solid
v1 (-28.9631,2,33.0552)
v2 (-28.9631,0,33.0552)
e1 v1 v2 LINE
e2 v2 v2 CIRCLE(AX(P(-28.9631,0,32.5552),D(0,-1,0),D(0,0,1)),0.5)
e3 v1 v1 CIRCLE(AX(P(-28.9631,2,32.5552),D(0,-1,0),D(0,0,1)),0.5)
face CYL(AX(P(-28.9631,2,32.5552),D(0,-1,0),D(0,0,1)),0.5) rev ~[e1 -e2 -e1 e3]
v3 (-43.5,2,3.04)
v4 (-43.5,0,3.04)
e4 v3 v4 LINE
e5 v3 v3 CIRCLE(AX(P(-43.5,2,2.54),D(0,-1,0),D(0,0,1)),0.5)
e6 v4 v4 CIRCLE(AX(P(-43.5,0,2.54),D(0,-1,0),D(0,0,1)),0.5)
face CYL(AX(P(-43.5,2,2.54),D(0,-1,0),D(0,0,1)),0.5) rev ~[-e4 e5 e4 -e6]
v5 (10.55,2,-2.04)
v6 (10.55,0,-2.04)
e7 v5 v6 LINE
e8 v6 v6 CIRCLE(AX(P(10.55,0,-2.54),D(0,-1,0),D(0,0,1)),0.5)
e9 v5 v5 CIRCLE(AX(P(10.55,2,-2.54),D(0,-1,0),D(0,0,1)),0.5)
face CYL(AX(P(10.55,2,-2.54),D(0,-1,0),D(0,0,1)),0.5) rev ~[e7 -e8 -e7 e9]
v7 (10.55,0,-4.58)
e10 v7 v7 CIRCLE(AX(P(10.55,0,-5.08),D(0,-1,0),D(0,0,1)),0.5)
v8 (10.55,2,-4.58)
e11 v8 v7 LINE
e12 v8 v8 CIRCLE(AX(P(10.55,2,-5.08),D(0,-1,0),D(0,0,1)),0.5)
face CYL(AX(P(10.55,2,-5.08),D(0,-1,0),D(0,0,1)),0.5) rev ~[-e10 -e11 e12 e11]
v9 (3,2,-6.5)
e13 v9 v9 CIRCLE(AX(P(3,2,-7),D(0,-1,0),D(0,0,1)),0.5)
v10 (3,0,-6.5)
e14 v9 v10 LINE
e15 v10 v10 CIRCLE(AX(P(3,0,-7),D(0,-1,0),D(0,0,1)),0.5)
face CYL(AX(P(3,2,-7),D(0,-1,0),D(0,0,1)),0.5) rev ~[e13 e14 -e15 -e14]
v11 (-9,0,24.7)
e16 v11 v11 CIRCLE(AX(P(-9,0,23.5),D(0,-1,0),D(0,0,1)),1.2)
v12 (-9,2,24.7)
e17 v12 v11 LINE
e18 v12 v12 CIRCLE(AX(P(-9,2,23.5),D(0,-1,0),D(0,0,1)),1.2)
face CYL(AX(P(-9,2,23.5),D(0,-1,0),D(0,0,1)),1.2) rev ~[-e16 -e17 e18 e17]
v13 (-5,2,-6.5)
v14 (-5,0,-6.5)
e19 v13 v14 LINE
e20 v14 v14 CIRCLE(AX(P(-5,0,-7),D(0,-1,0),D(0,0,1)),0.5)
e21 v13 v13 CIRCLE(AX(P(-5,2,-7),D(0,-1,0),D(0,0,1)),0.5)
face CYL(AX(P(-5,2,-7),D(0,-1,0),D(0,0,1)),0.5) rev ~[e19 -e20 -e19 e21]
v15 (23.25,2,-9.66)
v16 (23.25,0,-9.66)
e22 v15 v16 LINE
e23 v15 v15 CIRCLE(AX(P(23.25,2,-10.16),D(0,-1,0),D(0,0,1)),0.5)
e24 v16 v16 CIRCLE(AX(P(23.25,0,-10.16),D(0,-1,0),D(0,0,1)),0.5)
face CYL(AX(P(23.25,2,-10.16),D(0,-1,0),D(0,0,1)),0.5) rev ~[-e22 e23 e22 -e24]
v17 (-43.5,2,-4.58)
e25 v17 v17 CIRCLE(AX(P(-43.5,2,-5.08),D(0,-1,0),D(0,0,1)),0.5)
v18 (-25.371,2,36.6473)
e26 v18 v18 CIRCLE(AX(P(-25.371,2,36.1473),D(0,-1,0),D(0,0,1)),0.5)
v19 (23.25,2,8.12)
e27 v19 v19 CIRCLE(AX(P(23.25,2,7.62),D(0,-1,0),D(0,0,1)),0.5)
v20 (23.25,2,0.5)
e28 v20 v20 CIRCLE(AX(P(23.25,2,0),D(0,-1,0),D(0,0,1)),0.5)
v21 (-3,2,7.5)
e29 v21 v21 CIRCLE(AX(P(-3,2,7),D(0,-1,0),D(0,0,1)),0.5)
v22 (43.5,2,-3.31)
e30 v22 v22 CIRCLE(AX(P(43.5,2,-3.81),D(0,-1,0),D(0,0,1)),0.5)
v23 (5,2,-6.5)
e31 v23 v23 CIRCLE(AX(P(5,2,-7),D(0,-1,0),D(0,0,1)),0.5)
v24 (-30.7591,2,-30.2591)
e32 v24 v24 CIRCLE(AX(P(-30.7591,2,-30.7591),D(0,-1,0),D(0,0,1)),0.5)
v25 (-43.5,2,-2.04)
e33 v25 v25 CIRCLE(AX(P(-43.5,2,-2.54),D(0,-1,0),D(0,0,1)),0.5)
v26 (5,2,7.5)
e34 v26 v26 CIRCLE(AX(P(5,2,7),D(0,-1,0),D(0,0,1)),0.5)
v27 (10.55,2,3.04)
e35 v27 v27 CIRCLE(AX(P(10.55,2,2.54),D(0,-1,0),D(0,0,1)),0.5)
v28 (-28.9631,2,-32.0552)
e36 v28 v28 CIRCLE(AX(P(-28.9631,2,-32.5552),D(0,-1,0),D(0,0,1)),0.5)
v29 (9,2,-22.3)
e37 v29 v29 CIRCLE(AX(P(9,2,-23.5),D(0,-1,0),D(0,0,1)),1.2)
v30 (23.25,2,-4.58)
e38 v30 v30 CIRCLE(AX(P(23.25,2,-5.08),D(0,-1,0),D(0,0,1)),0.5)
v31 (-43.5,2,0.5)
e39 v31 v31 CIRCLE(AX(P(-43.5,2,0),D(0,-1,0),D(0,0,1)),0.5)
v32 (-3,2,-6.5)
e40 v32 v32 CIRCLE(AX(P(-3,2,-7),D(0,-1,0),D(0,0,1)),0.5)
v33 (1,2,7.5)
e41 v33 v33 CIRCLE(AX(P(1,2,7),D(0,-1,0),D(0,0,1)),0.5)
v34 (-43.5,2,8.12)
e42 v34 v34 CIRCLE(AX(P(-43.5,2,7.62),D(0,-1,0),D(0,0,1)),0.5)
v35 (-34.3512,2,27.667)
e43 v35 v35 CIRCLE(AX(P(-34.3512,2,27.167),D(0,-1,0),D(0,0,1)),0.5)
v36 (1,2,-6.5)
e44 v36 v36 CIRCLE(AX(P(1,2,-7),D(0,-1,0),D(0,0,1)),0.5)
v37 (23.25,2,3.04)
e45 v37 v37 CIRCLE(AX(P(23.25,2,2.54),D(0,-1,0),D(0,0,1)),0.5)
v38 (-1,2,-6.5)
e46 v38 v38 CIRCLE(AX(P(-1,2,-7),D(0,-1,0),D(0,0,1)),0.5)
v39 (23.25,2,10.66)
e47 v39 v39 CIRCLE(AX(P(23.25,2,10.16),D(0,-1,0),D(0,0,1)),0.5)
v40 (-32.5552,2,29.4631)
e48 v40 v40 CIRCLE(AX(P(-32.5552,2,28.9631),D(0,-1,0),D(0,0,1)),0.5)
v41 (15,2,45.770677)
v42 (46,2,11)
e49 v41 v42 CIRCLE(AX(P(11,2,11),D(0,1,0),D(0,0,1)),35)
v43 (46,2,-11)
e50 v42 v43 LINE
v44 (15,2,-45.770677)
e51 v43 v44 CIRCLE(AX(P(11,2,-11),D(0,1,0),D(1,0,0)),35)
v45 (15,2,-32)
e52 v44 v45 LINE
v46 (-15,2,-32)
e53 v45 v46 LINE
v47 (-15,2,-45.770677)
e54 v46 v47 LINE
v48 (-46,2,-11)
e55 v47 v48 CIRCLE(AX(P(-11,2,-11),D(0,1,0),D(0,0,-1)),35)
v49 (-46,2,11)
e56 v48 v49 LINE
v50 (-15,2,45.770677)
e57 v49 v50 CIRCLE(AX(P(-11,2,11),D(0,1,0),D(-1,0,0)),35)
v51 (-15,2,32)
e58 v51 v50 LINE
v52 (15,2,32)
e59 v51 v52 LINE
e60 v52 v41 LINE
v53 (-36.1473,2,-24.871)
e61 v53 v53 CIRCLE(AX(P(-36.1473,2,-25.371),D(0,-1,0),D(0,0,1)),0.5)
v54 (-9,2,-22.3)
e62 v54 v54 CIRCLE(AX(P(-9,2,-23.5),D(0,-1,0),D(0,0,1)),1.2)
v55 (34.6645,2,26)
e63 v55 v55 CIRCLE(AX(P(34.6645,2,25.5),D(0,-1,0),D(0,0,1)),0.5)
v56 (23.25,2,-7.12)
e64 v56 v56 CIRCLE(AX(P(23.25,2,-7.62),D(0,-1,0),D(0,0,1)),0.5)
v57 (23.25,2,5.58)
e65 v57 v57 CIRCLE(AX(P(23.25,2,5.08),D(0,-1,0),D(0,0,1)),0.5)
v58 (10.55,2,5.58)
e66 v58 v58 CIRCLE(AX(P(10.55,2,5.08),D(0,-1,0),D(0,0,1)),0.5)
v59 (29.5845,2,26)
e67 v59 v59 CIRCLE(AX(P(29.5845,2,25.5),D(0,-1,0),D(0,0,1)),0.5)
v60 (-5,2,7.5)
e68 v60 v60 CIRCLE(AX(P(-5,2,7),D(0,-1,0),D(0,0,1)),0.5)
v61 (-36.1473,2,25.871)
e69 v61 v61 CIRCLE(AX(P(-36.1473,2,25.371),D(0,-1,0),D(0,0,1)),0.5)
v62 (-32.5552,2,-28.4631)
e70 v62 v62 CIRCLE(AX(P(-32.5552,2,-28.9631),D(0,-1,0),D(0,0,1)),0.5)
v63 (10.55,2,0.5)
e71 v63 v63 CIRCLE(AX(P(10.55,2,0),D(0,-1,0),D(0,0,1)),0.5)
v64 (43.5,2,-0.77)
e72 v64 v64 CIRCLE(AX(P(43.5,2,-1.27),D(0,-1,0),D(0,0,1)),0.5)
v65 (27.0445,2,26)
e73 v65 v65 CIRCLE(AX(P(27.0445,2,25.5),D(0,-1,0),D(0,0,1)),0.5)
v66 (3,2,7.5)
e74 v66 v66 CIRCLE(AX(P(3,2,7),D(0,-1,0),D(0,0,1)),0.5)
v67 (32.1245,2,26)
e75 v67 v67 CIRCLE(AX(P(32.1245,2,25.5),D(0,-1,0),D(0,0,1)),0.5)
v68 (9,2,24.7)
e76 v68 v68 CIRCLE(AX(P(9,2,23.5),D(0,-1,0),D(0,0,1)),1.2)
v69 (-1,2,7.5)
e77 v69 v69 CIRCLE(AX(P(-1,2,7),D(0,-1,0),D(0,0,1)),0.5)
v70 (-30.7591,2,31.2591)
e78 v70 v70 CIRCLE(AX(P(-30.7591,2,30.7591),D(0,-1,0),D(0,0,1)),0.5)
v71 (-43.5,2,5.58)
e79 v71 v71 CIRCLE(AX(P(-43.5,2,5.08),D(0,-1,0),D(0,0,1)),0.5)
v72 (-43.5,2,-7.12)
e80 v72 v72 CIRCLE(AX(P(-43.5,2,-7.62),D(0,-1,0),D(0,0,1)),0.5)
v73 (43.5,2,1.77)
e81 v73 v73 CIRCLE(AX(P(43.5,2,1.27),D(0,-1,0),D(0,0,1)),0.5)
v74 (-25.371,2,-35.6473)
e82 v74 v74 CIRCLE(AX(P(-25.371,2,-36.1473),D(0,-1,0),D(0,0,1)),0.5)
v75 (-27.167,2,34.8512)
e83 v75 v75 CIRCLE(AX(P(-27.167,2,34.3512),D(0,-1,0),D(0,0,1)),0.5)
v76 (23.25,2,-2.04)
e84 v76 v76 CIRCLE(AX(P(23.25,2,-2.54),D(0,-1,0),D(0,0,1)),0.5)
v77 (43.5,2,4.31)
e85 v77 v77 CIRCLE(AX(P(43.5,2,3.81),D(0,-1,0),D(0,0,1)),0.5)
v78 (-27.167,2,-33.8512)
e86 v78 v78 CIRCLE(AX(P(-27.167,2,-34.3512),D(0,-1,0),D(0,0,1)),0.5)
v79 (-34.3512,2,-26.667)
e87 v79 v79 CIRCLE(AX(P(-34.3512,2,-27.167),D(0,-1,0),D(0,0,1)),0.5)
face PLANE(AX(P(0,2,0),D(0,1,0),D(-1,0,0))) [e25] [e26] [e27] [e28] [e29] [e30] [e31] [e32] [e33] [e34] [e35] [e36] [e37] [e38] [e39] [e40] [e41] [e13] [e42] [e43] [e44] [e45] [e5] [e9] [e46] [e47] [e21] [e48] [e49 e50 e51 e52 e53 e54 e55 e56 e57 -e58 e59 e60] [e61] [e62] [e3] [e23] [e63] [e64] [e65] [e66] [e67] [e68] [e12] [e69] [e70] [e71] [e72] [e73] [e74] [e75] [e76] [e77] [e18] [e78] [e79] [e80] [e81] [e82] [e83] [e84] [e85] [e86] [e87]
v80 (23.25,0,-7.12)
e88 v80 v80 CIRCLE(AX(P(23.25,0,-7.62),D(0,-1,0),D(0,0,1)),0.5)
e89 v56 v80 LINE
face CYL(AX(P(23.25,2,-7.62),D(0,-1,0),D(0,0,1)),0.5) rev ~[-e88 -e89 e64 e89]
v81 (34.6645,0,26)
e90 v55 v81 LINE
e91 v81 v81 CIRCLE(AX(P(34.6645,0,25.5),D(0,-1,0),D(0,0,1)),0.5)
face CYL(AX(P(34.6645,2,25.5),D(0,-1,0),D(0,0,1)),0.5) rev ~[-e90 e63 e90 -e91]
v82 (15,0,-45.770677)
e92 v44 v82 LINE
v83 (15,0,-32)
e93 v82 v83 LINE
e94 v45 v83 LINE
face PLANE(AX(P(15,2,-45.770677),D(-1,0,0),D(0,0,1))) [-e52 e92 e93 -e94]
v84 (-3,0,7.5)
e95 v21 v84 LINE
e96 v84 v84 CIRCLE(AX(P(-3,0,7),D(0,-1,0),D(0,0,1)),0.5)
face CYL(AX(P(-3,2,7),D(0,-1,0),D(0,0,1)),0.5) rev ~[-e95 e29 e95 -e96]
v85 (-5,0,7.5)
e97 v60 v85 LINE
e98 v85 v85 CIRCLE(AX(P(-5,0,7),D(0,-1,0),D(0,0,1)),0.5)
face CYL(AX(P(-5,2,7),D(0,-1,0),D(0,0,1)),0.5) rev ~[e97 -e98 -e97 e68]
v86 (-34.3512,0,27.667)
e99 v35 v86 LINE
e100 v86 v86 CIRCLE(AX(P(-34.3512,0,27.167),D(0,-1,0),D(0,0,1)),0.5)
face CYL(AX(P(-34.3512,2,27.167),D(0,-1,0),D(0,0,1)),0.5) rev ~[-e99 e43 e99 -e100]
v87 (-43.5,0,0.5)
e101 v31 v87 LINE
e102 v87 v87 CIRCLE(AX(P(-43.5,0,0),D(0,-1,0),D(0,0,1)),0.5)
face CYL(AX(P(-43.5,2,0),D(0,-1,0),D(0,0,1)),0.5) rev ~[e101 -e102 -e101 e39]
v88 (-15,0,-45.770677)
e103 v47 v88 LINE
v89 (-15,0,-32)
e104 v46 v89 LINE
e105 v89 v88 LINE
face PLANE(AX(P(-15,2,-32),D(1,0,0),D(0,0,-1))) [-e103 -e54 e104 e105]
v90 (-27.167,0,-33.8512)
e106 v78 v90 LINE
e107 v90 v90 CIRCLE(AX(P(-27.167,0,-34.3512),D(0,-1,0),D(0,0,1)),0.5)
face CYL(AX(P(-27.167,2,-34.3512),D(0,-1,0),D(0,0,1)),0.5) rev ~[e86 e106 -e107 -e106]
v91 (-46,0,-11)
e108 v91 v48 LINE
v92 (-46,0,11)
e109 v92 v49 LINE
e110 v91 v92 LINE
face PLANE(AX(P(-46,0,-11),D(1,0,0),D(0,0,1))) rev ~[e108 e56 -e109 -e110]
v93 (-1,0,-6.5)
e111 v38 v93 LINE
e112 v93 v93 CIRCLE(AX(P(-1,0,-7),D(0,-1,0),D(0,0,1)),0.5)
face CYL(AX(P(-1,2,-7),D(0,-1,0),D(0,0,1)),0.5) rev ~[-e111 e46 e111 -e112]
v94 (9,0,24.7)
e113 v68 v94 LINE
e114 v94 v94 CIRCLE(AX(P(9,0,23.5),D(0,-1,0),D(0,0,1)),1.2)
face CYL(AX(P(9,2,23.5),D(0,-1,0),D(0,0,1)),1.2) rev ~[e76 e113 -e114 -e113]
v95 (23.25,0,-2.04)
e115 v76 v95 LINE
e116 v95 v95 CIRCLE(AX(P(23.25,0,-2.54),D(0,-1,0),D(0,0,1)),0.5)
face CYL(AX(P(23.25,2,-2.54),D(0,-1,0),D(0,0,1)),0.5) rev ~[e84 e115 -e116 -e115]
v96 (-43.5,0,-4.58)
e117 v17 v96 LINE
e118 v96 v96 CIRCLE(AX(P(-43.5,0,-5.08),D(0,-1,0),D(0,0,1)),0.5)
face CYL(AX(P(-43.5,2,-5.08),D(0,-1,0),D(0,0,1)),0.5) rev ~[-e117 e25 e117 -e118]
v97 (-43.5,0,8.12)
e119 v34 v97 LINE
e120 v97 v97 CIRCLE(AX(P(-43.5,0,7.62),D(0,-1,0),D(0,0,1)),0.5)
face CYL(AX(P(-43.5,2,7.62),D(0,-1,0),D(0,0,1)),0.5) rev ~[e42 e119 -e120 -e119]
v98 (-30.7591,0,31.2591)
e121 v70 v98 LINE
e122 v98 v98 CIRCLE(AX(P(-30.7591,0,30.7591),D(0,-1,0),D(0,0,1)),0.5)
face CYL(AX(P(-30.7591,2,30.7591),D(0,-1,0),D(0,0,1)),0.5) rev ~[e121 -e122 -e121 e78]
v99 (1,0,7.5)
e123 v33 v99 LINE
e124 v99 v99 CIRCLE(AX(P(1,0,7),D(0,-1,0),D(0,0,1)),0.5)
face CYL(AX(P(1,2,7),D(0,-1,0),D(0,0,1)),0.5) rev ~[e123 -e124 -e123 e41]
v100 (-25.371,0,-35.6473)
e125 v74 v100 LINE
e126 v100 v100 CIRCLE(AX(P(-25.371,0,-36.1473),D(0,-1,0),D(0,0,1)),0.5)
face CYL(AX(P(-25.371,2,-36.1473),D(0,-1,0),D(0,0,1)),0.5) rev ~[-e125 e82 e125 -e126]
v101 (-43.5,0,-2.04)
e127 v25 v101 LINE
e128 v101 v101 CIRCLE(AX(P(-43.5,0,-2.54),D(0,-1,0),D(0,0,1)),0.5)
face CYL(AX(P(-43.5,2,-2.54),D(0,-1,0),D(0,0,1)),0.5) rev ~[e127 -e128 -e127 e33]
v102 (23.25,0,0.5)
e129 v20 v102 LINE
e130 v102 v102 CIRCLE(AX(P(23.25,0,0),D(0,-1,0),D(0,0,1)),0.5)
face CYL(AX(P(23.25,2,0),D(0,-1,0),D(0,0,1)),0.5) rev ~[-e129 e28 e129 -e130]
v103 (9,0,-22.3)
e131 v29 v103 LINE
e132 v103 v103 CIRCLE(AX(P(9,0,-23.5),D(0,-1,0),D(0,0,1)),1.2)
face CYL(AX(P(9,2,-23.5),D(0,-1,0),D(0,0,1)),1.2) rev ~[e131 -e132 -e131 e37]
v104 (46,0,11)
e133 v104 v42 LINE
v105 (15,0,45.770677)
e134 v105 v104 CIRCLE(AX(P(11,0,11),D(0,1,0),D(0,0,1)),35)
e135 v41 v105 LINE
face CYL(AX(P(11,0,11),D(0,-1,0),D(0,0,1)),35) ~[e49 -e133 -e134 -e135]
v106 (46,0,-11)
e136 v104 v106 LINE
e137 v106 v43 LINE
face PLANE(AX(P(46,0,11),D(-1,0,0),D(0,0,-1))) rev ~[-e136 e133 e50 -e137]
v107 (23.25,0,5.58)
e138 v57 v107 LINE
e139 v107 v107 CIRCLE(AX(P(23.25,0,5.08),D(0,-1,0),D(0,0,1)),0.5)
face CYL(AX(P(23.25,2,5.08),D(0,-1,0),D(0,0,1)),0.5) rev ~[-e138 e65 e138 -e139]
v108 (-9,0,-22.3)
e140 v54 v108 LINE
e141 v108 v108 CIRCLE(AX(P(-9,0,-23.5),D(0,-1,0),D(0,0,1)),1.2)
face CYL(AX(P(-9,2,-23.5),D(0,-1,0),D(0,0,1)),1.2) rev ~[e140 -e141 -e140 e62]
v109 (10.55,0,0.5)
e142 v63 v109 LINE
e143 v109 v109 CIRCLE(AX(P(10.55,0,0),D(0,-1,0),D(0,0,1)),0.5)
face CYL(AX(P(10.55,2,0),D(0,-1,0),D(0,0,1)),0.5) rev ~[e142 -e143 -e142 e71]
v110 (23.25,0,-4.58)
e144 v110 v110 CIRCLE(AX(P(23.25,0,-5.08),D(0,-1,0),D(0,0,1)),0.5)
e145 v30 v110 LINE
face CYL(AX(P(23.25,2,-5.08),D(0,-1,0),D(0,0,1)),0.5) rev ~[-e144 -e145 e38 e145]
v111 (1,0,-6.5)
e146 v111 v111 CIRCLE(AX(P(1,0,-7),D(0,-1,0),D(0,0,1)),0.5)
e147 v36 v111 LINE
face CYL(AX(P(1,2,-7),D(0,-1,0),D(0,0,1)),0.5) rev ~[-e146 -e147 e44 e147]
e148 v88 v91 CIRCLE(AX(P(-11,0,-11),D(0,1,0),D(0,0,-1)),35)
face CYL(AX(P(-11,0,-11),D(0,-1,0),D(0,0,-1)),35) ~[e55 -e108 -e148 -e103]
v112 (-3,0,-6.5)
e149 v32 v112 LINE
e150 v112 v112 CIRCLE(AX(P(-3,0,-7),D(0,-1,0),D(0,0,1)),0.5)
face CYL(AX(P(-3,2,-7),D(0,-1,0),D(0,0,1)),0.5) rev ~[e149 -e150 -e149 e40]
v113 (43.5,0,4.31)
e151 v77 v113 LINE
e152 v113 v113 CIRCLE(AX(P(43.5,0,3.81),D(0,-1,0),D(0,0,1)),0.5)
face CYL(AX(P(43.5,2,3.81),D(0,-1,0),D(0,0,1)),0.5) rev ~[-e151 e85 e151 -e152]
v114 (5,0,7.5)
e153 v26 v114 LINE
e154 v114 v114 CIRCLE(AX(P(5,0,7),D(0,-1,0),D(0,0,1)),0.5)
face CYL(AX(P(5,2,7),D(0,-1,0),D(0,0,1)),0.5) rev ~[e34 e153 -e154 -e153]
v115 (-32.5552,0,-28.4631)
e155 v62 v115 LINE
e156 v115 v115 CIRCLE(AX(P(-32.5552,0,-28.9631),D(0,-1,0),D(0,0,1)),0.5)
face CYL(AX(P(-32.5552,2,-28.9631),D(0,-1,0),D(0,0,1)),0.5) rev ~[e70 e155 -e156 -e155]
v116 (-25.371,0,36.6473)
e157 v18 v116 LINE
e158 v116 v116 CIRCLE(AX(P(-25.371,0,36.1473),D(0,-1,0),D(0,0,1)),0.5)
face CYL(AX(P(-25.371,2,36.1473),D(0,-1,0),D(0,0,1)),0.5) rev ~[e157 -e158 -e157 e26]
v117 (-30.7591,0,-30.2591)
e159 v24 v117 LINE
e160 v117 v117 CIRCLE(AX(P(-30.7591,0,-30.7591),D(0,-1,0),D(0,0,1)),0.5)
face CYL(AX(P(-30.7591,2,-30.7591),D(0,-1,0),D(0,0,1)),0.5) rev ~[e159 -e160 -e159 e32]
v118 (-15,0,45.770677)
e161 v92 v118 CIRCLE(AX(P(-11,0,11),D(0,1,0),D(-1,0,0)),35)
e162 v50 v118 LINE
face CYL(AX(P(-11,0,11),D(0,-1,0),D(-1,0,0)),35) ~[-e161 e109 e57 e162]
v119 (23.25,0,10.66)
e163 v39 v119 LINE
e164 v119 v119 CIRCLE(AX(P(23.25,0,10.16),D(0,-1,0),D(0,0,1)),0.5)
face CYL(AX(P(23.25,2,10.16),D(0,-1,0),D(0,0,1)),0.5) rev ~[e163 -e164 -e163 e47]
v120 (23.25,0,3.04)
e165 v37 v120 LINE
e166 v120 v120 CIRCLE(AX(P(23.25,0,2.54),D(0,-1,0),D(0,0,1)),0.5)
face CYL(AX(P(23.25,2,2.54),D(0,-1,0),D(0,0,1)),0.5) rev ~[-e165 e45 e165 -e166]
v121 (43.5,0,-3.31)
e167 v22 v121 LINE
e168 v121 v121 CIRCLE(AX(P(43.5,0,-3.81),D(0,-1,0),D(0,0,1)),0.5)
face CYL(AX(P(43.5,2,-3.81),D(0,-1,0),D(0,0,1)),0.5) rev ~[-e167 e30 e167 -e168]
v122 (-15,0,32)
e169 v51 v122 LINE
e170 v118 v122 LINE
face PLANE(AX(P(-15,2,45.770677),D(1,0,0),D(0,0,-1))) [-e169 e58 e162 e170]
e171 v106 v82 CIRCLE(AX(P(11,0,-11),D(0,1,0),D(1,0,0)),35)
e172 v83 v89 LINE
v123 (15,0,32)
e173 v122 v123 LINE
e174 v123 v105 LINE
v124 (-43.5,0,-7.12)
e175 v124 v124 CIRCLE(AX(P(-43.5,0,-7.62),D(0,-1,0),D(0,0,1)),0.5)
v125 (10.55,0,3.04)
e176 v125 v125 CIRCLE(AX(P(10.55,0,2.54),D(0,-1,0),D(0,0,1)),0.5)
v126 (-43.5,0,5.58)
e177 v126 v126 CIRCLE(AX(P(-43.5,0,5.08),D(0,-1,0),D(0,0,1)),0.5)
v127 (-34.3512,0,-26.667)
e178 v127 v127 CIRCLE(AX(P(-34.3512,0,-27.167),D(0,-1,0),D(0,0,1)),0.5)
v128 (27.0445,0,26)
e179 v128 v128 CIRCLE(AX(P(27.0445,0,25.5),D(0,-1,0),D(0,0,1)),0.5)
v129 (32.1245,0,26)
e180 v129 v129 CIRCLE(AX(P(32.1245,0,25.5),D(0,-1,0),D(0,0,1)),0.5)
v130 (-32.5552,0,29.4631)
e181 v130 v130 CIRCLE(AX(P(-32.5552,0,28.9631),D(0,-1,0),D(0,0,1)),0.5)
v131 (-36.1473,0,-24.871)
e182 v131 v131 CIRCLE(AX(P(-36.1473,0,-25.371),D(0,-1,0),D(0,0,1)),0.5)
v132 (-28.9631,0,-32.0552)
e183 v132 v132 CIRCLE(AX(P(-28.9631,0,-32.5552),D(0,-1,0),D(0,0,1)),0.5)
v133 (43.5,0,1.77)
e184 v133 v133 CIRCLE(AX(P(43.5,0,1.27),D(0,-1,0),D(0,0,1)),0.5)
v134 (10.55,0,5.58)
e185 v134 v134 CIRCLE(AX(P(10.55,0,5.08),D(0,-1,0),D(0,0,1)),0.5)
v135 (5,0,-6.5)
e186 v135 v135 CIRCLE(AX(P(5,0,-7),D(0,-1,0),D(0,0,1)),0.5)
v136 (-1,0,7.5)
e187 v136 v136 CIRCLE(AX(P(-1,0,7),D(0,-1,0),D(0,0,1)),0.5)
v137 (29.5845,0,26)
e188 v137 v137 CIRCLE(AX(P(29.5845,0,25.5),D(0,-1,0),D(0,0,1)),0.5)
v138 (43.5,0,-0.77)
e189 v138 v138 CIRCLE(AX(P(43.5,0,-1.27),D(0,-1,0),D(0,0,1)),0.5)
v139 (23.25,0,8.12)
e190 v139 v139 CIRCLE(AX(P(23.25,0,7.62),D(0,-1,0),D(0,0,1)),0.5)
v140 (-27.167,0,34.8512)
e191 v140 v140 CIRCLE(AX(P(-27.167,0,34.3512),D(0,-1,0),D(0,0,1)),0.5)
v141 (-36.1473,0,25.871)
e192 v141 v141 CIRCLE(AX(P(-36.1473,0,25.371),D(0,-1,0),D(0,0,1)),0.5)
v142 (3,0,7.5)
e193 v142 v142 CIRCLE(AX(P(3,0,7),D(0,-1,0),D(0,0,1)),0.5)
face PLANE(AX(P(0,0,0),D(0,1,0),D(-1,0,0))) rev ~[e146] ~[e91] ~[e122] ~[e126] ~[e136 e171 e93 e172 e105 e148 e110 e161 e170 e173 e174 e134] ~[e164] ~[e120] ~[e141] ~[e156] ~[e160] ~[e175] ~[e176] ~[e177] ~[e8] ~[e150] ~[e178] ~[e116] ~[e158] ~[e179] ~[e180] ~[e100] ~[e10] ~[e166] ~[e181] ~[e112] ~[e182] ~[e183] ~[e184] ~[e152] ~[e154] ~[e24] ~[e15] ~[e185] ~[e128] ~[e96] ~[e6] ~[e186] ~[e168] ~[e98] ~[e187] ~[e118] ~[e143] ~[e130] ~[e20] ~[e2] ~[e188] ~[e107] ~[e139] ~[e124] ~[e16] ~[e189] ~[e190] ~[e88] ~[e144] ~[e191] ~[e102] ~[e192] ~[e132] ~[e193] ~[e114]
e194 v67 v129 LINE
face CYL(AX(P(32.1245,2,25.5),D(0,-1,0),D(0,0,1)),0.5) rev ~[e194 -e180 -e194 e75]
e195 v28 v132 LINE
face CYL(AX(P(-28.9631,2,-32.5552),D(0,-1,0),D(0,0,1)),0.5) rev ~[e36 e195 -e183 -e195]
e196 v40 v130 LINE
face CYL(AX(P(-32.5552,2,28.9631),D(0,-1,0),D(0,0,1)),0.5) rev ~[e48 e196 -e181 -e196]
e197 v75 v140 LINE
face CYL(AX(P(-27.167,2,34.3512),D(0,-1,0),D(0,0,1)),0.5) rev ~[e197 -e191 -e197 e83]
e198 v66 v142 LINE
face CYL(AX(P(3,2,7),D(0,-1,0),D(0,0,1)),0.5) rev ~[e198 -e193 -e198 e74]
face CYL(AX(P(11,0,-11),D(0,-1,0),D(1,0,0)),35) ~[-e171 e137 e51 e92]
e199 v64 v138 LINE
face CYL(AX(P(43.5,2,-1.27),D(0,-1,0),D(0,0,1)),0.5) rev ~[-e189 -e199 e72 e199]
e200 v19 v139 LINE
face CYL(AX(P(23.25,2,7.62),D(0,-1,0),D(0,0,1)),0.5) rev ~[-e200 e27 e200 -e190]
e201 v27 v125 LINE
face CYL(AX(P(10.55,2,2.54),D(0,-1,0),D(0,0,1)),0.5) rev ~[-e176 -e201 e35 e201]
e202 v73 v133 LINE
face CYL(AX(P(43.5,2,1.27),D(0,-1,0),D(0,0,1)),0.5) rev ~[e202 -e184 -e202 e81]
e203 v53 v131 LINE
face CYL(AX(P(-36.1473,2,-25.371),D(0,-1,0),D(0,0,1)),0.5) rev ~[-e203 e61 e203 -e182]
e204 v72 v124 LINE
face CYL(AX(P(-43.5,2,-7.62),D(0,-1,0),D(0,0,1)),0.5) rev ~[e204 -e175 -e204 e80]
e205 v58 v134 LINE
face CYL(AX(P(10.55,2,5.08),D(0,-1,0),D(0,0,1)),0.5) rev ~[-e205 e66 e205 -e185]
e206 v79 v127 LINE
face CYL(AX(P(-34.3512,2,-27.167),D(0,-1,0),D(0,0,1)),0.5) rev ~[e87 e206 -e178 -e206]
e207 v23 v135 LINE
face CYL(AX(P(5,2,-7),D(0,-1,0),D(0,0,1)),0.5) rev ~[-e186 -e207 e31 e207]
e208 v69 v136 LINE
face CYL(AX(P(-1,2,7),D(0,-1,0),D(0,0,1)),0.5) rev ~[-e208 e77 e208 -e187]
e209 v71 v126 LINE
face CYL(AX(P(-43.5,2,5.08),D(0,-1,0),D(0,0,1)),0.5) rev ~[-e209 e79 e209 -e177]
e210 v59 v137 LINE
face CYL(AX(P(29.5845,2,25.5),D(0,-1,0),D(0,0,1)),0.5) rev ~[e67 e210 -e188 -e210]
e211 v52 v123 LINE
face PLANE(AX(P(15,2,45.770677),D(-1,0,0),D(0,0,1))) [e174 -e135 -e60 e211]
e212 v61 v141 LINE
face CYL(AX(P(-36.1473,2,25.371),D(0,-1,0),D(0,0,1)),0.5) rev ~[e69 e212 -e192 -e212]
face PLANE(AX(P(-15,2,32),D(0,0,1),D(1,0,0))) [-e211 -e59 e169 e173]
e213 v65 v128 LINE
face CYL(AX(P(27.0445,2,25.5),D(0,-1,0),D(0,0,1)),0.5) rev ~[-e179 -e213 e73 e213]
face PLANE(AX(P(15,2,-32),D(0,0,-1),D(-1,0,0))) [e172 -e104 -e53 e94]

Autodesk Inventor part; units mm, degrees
ref_plane "YZ Plane" through (0, 0, 0) normal (1, 0, 0) x (0, 1, 0)
ref_plane "XZ Plane" through (0, 0, 0) normal (0, 1, 0) x (-1, 0, 0)
ref_plane "XY Plane" through (0, 0, 0) normal (0, 0, 1) x (1, 0, 0)
sketch "Szkic1" plane through (0, 0, 0) normal (0, 1, 0) x (-1, 0, 0)
  line L0 (11, 46) -> (-11, 46)
  line L1 (-46, 11) -> (-46, -11)
  line L2 (-11, -46) -> (11, -46)
  line L3 (46, -11) -> (46, 11)
  line L4 (46, 46) -> (-46, -46) construction
  line L5 (-46, 46) -> (46, -46) construction
  arc A0 (46, 44) -> (44, 46) centre (44, 44) ccw
  arc A1 (46, 11) -> (11, 46) centre (11, 11) ccw
  arc A2 (11, -46) -> (46, -11) centre (11, -11) ccw
  arc A3 (-46, -11) -> (-11, -46) centre (-11, -11) ccw
  arc A4 (-11, 46) -> (-46, 11) centre (-11, 11) ccw
  point P0 (0, 0)
  dimension "d0" = 92
  dimension "d1" = 92
  dimension "d3" = 35
extrude "Wyciągnięcie proste1" add sketch "Szkic1" along normal blind 2
sketch "Szkic2" plane through (0, 2, 0) normal (0, 1, 0) x (1, 0, 0)
  line L0 (0, -49.4552) -> (0, 63.4462) construction
  line L1 (-44.5279, 0) -> (46.4745, 0) construction
  line L2 (15, 32) -> (-15, 32)
  line L3 (-15, 32) -> (-15, 46)
  line L4 (-15, 46) -> (15, 46)
  line L5 (15, 46) -> (15, 32)
  line L6 (15, 32) -> (-15, 46) construction
  line L7 (-15, 32) -> (15, 46) construction
  arc A0 (11, -46) -> (46, -11) centre (11, -11) ccw projected
  line L8 (46, -11) -> (46, 11) projected
  arc A1 (46, 11) -> (11, 46) centre (11, 11) ccw projected
  line L9 (11, 46) -> (-11, 46) projected
  arc A2 (-11, 46) -> (-46, 11) centre (-11, 11) ccw projected
  line L10 (-46, 11) -> (-46, -11) projected
  arc A3 (-46, -11) -> (-11, -46) centre (-11, -11) ccw projected
  line L11 (-11, -46) -> (11, -46) projected
  line L12 (11, 46) -> (-11, 46) projected
  line L13 (15, -46) -> (-15, -46)
  line L14 (-15, -46) -> (-15, -32)
  line L15 (-15, -32) -> (15, -32)
  line L16 (15, -32) -> (15, -46)
  line L17 (15, -46) -> (-15, -32) construction
  line L18 (-15, -46) -> (15, -32) construction
  line L19 (-11, -46) -> (11, -46) projected
  point P0 (0, 0)
  point P1 (0, 39)
  point P2 (0, -39)
  point P3 (0, -39)
  point P4 (0, 39)
  point P5 (-16, -46)
  point P6 (16, -46)
  dimension "d6" = 30
  dimension "d7" = 14
  dimension "d8" = 30
  dimension "d9" = 14
extrude "Wyciągnięcie proste2" cut sketch "Szkic2" against normal blind 10 contours L2 L3 A2 L4 A1 L5 | A1 L4 L5 | L3 L4 A2 | L16 L13 A0 | A0 L11 A3 L14 L15 L16 | A3 L13 L14
sketch "Szkic3" plane through (0, 2, 0) normal (0, 1, 0) x (1, 0, 0)
  line L0 (-15, -32) -> (15, -32) projected
  line L1 (-50.9262, 0) -> (55.7428, 0) construction
  point P0 (0, 0)
  point P1 (-9, -23.5)
  point P2 (9, -23.5)
  point P3 (-9, 23.5)
  point P4 (9, 23.5)
  dimension "d12" = 8.5
  dimension "d13" = 18
  dimension "d14" = 9
hole "Otwór1" at (-9, 2, 23.5) at (9, 2, 23.5) at (-9, 2, -23.5) at (9, 2, -23.5) direction (0, -1, 0) diameter 2.4 end through all clearance for "Śruba ze łbem płaskim obrobiona" size "M2" standard "ANSI Profil metryczny M"
sketch "Szkic4" plane through (0, 2, 0) normal (0, 1, 0) x (1, 0, 0)
  line L0 (-46, 11) -> (-46, -11) projected
  circle A0 centre (0, 0) radius 43.5 construction
  line L1 (-36.1473, 25.371) -> (-25.371, 36.1473) construction
  line L2 (-25.371, 36.1473) -> (-30.7591, 30.7591) construction
  line L3 (-43.5, 7.62) -> (-43.5, -7.62) construction
  line L4 (-50.7703, 0) -> (45.9031, 0) construction
  line L5 (-36.1473, -25.371) -> (-25.371, -36.1473) construction
  line L6 (-25.371, -36.1473) -> (-30.7591, -30.7591) construction
  point P0 (-43.5, 0)
  point P1 (-43.5, 2.54)
  point P2 (-43.5, -2.54)
  point P3 (-43.5, 5.08)
  point P4 (-43.5, -5.08)
  point P5 (-34.3512, 27.167)
  point P6 (-32.5552, 28.9631)
  point P7 (-27.167, 34.3512)
  point P8 (-28.9631, 32.5552)
  point P9 (-34.3512, -27.167)
  point P10 (-32.5552, -28.9631)
  point P11 (-27.167, -34.3512)
  point P12 (-28.9631, -32.5552)
  dimension "d22" = 2.54
  dimension "d23" = 2.54
  dimension "d24" = 2.54
  dimension "d25" = 2.54
  dimension "d26" = 2.54
  dimension "d27" = 2.54
  dimension "d28" = 2.5
  dimension "d36" = 15.24
  dimension "d37" = 7.62
  dimension "d38" = 135
  dimension "d39" = 5.3882
  dimension "d40" = 1.796
  dimension "d41" = 1.796
  dimension "d42" = 1.796
  dimension "d43" = 1.796
hole "Otwór2" at (-43.5, 2, 0) at (-43.5, 2, -2.54) at (-43.5, 2, 2.54) at (-43.5, 2, -5.08) at (-43.5, 2, 5.08) at (-43.5, 2, 7.62) at (-43.5, 2, -7.62) at (-36.1473, 2, 25.371) at (-30.7591, 2, 30.7591) at (-34.3512, 2, 27.167) at (-32.5552, 2, 28.9631) at (-27.167, 2, 34.3512) at (-28.9631, 2, 32.5552) at (-25.371, 2, 36.1473) at (-28.9631, 2, -32.5552) at (-27.167, 2, -34.3512) at (-32.5552, 2, -28.9631) at (-34.3512, 2, -27.167) at (-30.7591, 2, -30.7591) at (-25.371, 2, -36.1473) at (-36.1473, 2, -25.371) direction (0, -1, 0) diameter 1 end through all
sketch "Szkic5" plane through (0, 2, 0) normal (0, 1, 0) x (1, 0, 0)
  circle A0 centre (-25.371, 36.1473) radius 0.5 projected
  circle A1 centre (-34.3512, 27.167) radius 0.5 projected
  circle A2 centre (-27.167, 34.3512) radius 0.5 projected
  circle A3 centre (-25.371, -36.1473) radius 0.5 projected
  circle A4 centre (-27.167, -34.3512) radius 0.5 projected
  circle A5 centre (-34.3512, -27.167) radius 0.5 projected
  circle A6 centre (-36.1473, -25.371) radius 0.5 projected
  circle A7 centre (-43.5, -7.62) radius 0.5 projected
  circle A8 centre (-43.5, 5.08) radius 0.5 projected
  circle A9 centre (-43.5, 2.54) radius 0.5 projected
  circle A10 centre (-43.5, 0) radius 0.5 projected
  circle A11 centre (-43.5, -2.54) radius 0.5 projected
  circle A12 centre (-43.5, -5.08) radius 0.5 projected
  circle A13 centre (-43.5, 7.62) radius 0.5 projected
  circle A14 centre (-30.7591, -30.7591) radius 0.5 projected
  circle A15 centre (-32.5552, -28.9631) radius 0.5 projected
  circle A16 centre (-28.9631, -32.5552) radius 0.5 projected
  circle A17 centre (-28.9631, 32.5552) radius 0.5 projected
  circle A18 centre (-32.5552, 28.9631) radius 0.5 projected
  circle A19 centre (-30.7591, 30.7591) radius 0.5 projected
  circle A20 centre (-36.1473, 25.371) radius 0.5 projected
  circle A21 centre (-9, 23.5) radius 1.2 projected
  circle A22 centre (-9, -23.5) radius 1.2 projected
  circle A23 centre (9, -23.5) radius 1.2 projected
  circle A24 centre (9, 23.5) radius 1.2 projected
  line L0 (-15, 32) -> (-15, 45.7707) projected
  arc A25 (-15, 45.7707) -> (-46, 11) centre (-11, 11) ccw projected
  line L1 (-46, 11) -> (-46, -11) projected
  arc A26 (-46, -11) -> (-15, -45.7707) centre (-11, -11) ccw projected
  line L2 (-15, -45.7707) -> (-15, -32) projected
  line L3 (-15, -32) -> (15, -32) projected
  line L4 (15, -32) -> (15, -45.7707) projected
  arc A27 (15, -45.7707) -> (46, -11) centre (11, -11) ccw projected
  line L5 (46, -11) -> (46, 11) projected
  arc A28 (46, 11) -> (15, 45.7707) centre (11, 11) ccw projected
  line L6 (15, 45.7707) -> (15, 32) projected
  line L7 (15, 32) -> (-15, 32) projected
  line L8 (7.5, -32) -> (-7.5, -32)
  line L9 (-7.5, -32) -> (-7.5, -18.75)
  line L10 (-7.5, -18.75) -> (7.5, -18.75)
  line L11 (7.5, -18.75) -> (7.5, -32)
  line L12 (7.5, -32) -> (-7.5, -18.75) construction
  line L13 (-7.5, -32) -> (7.5, -18.75) construction
  line L14 (-15, -32) -> (15, -32) projected
  circle A29 centre (-9, -23.5) radius 4.25
  line L15 (-9, -19.25) -> (-7.5, -19.25)
  line L16 (-9, -27.75) -> (-7.5, -27.75)
  circle A30 centre (9, -23.5) radius 1.2 projected
  circle A31 centre (9, -23.5) radius 4.25
  line L17 (9, -19.25) -> (7.5, -19.25)
  line L18 (9, -27.75) -> (7.5, -27.75)
  line L19 (6, -18.75) -> (-6, -18.75)
  line L20 (-6, -18.75) -> (-6, -10.25)
  line L21 (-6, -10.25) -> (6, -10.25)
  line L22 (6, -10.25) -> (6, -18.75)
  line L23 (6, -18.75) -> (-6, -10.25) construction
  line L24 (-6, -18.75) -> (6, -10.25) construction
  line L25 (0.5, -10.25) -> (-0.5, -10.25)
  line L26 (-0.5, -10.25) -> (-0.5, -5.25)
  line L27 (-0.5, -5.25) -> (0.5, -5.25)
  line L28 (0.5, -5.25) -> (0.5, -10.25)
  line L29 (0.5, -10.25) -> (-0.5, -5.25) construction
  line L30 (-0.5, -10.25) -> (0.5, -5.25) construction
  line L31 (-48.5218, 0) -> (66.2136, 0) construction
  circle A32 centre (-9, 23.5) radius 1.2
  circle A33 centre (9, 23.5) radius 1.2
  line L32 (7.5, 32) -> (-7.5, 32)
  line L33 (-7.5, 32) -> (-7.5, 18.75)
  line L34 (-7.5, 18.75) -> (7.5, 18.75)
  line L35 (7.5, 18.75) -> (7.5, 32)
  line L36 (7.5, 32) -> (-7.5, 18.75) construction
  line L37 (-7.5, 32) -> (7.5, 18.75) construction
  line L38 (-9, 19.25) -> (-7.5, 19.25)
  line L39 (-9, 27.75) -> (-7.5, 27.75)
  circle A34 centre (9, 23.5) radius 1.2
  circle A35 centre (9, 23.5) radius 4.25
  line L40 (9, 19.25) -> (7.5, 19.25)
  line L41 (9, 27.75) -> (7.5, 27.75)
  line L42 (6, 18.75) -> (-6, 18.75)
  line L43 (-6, 18.75) -> (-6, 10.25)
  line L44 (-6, 10.25) -> (6, 10.25)
  line L45 (6, 10.25) -> (6, 18.75)
  line L46 (6, 18.75) -> (-6, 10.25) construction
  line L47 (-6, 18.75) -> (6, 10.25) construction
  line L48 (0.5, 10.25) -> (-0.5, 10.25)
  line L49 (-0.5, 10.25) -> (-0.5, 5.25)
  line L50 (-0.5, 5.25) -> (0.5, 5.25)
  line L51 (0.5, 5.25) -> (0.5, 10.25)
  line L52 (0.5, 10.25) -> (-0.5, 5.25) construction
  line L53 (-0.5, 10.25) -> (0.5, 5.25) construction
  circle A36 centre (-9, 23.5) radius 4.25
  point P0 (0, 0)
  point P1 (0, -25.375)
  point P2 (0, -25.375)
  point P3 (0, -14.5)
  point P4 (0, -14.5)
  point P5 (0, -25.375)
  point P6 (0, -7.75)
  point P7 (0, -7.75)
  point P8 (-1, -7)
  point P9 (-3, -7)
  point P10 (-5, -7)
  point P11 (1, -7)
  point P12 (3, -7)
  point P13 (5, -7)
  point P14 (0, 25.375)
  point P15 (0, 25.375)
  point P16 (0, 14.5)
  point P17 (0, 14.5)
  point P18 (0, 25.375)
  point P19 (0, 7.75)
  point P20 (0, 7.75)
  point P21 (-1, 7)
  point P22 (-3, 7)
  point P23 (-5, 7)
  point P24 (1, 7)
  point P25 (3, 7)
  point P26 (5, 7)
  dimension "d44" = 15
  dimension "d45" = 13.25
  dimension "d46" = 8.5
  dimension "d47" = 8.5
  dimension "d48" = 12
  dimension "d49" = 8.5
  dimension "d50" = 1
  dimension "d51" = 5
  dimension "d53" = 2
  dimension "d54" = 2
  dimension "d55" = 2
  dimension "d56" = 2
  dimension "d57" = 2
  dimension "d58" = 1
  dimension "d59" = 3.25
hole "Otwór3" at (-1, 2, 7) at (-3, 2, 7) at (-5, 2, 7) at (1, 2, 7) at (3, 2, 7) at (5, 2, 7) at (5, 2, -7) at (3, 2, -7) at (1, 2, -7) at (-5, 2, -7) at (-3, 2, -7) at (-1, 2, -7) direction (0, -1, 0) diameter 1 end through all
sketch "Szkic6" plane through (0, 2, 0) normal (0, 1, 0) x (1, 0, 0)
  circle A0 centre (-3, 7) radius 0.5 projected
  circle A1 centre (1, 7) radius 0.5 projected
  circle A2 centre (5, 7) radius 0.5 projected
  circle A3 centre (3, -7) radius 0.5 projected
  circle A4 centre (-5, -7) radius 0.5 projected
  circle A5 centre (-1, -7) radius 0.5 projected
  circle A6 centre (-3, -7) radius 0.5 projected
  circle A7 centre (1, -7) radius 0.5 projected
  circle A8 centre (5, -7) radius 0.5 projected
  circle A9 centre (3, 7) radius 0.5 projected
  circle A10 centre (-5, 7) radius 0.5 projected
  circle A11 centre (-1, 7) radius 0.5 projected
  circle A12 centre (-25.371, 36.1473) radius 0.5 projected
  circle A13 centre (-34.3512, 27.167) radius 0.5 projected
  circle A14 centre (-27.167, 34.3512) radius 0.5 projected
  circle A15 centre (-25.371, -36.1473) radius 0.5 projected
  circle A16 centre (-27.167, -34.3512) radius 0.5 projected
  circle A17 centre (-34.3512, -27.167) radius 0.5 projected
  circle A18 centre (-36.1473, -25.371) radius 0.5 projected
  circle A19 centre (-43.5, -7.62) radius 0.5 projected
  circle A20 centre (-43.5, 5.08) radius 0.5 projected
  circle A21 centre (-43.5, 2.54) radius 0.5 projected
  circle A22 centre (-43.5, 0) radius 0.5 projected
  circle A23 centre (-43.5, -2.54) radius 0.5 projected
  circle A24 centre (-43.5, -5.08) radius 0.5 projected
  circle A25 centre (-43.5, 7.62) radius 0.5 projected
  circle A26 centre (-30.7591, -30.7591) radius 0.5 projected
  circle A27 centre (-32.5552, -28.9631) radius 0.5 projected
  circle A28 centre (-28.9631, -32.5552) radius 0.5 projected
  circle A29 centre (-28.9631, 32.5552) radius 0.5 projected
  circle A30 centre (-32.5552, 28.9631) radius 0.5 projected
  circle A31 centre (-30.7591, 30.7591) radius 0.5 projected
  circle A32 centre (-36.1473, 25.371) radius 0.5 projected
  circle A33 centre (-9, 23.5) radius 1.2 projected
  circle A34 centre (-9, -23.5) radius 1.2 projected
  circle A35 centre (9, -23.5) radius 1.2 projected
  circle A36 centre (9, 23.5) radius 1.2 projected
  line L0 (-15, 32) -> (-15, 45.7707) projected
  arc A37 (-15, 45.7707) -> (-46, 11) centre (-11, 11) ccw projected
  line L1 (-46, 11) -> (-46, -11) projected
  arc A38 (-46, -11) -> (-15, -45.7707) centre (-11, -11) ccw projected
  line L2 (-15, -45.7707) -> (-15, -32) projected
  line L3 (-15, -32) -> (15, -32) projected
  line L4 (15, -32) -> (15, -45.7707) projected
  arc A39 (15, -45.7707) -> (46, -11) centre (11, -11) ccw projected
  line L5 (46, -11) -> (46, 11) projected
  arc A40 (46, 11) -> (15, 45.7707) centre (11, 11) ccw projected
  line L6 (15, 45.7707) -> (15, 32) projected
  line L7 (15, 32) -> (-15, 32) projected
  line L8 (25.8, -12.7) -> (8, -12.7)
  line L9 (8, -12.7) -> (8, 12.7)
  line L10 (8, 12.7) -> (25.8, 12.7)
  line L11 (25.8, 12.7) -> (25.8, -12.7)
  line L12 (25.8, -12.7) -> (8, 12.7) construction
  line L13 (8, -12.7) -> (25.8, 12.7) construction
  line L14 (6, 10.25) -> (6, 18.75) projected
  line L15 (6, -10.25) -> (6, -18.75) projected
  point P0 (0, 0)
  point P1 (16.9, 0)
  point P2 (16.9, 0)
  point P3 (10.55, 0)
  point P4 (23.25, 0)
  point P5 (10.55, 2.54)
  point P6 (10.55, 5.08)
  point P7 (10.55, -2.54)
  point P8 (10.55, -5.08)
  point P9 (23.25, 0)
  point P10 (23.25, 2.54)
  point P11 (23.25, 5.08)
  point P12 (23.25, -2.54)
  point P13 (23.25, -5.08)
  point P14 (23.25, 7.62)
  point P15 (23.25, 10.16)
  point P16 (23.25, -7.62)
  point P17 (23.25, -10.16)
  dimension "d67" = 17.8
  dimension "d68" = 25.4
  dimension "d69" = 2
  dimension "d70" = 6.35
  dimension "d71" = 6.35
  dimension "d72" = 2.54
  dimension "d73" = 2.54
  dimension "d74" = 2.54
  dimension "d75" = 2.54
  dimension "d76" = 2.54
  dimension "d77" = 2.54
  dimension "d78" = 2.54
  dimension "d79" = 2.54
  dimension "d80" = 2.54
  dimension "d82" = 2.54
  dimension "d83" = 2.54
  dimension "d85" = 2.54
hole "Otwór4" at (10.55, 2, 5.08) at (10.55, 2, 2.54) at (10.55, 2, -5.08) at (10.55, 2, -2.54) at (10.55, 2, 0) at (23.25, 2, 7.62) at (23.25, 2, 10.16) at (23.25, 2, -7.62) at (23.25, 2, -10.16) at (23.25, 2, 0) at (23.25, 2, -2.54) at (23.25, 2, -5.08) at (23.25, 2, 2.54) at (23.25, 2, 5.08) direction (0, -1, 0) diameter 1 end through all
sketch "Szkic7" plane through (0, 2, 0) normal (0, 1, 0) x (1, 0, 0)
  circle A0 centre (23.25, -2.54) radius 0.5 projected
  circle A1 centre (23.25, 2.54) radius 0.5 projected
  circle A2 centre (23.25, 10.16) radius 0.5 projected
  circle A3 centre (23.25, -10.16) radius 0.5 projected
  circle A4 centre (10.55, 0) radius 0.5 projected
  circle A5 centre (10.55, 5.08) radius 0.5 projected
  circle A6 centre (10.55, -5.08) radius 0.5 projected
  circle A7 centre (10.55, -2.54) radius 0.5 projected
  circle A8 centre (10.55, 2.54) radius 0.5 projected
  circle A9 centre (23.25, -7.62) radius 0.5 projected
  circle A10 centre (23.25, 7.62) radius 0.5 projected
  circle A11 centre (23.25, 0) radius 0.5 projected
  circle A12 centre (23.25, 5.08) radius 0.5 projected
  circle A13 centre (23.25, -5.08) radius 0.5 projected
  circle A14 centre (-3, 7) radius 0.5 projected
  circle A15 centre (1, 7) radius 0.5 projected
  circle A16 centre (5, 7) radius 0.5 projected
  circle A17 centre (3, -7) radius 0.5 projected
  circle A18 centre (-5, -7) radius 0.5 projected
  circle A19 centre (-1, -7) radius 0.5 projected
  circle A20 centre (-3, -7) radius 0.5 projected
  circle A21 centre (1, -7) radius 0.5 projected
  circle A22 centre (5, -7) radius 0.5 projected
  circle A23 centre (3, 7) radius 0.5 projected
  circle A24 centre (-5, 7) radius 0.5 projected
  circle A25 centre (-1, 7) radius 0.5 projected
  circle A26 centre (-25.371, 36.1473) radius 0.5 projected
  circle A27 centre (-34.3512, 27.167) radius 0.5 projected
  circle A28 centre (-27.167, 34.3512) radius 0.5 projected
  circle A29 centre (-25.371, -36.1473) radius 0.5 projected
  circle A30 centre (-27.167, -34.3512) radius 0.5 projected
  circle A31 centre (-34.3512, -27.167) radius 0.5 projected
  circle A32 centre (-36.1473, -25.371) radius 0.5 projected
  circle A33 centre (-43.5, -7.62) radius 0.5 projected
  circle A34 centre (-43.5, 5.08) radius 0.5 projected
  circle A35 centre (-43.5, 2.54) radius 0.5 projected
  circle A36 centre (-43.5, 0) radius 0.5 projected
  circle A37 centre (-43.5, -2.54) radius 0.5 projected
  circle A38 centre (-43.5, -5.08) radius 0.5 projected
  circle A39 centre (-43.5, 7.62) radius 0.5 projected
  circle A40 centre (-30.7591, -30.7591) radius 0.5 projected
  circle A41 centre (-32.5552, -28.9631) radius 0.5 projected
  circle A42 centre (-28.9631, -32.5552) radius 0.5 projected
  circle A43 centre (-28.9631, 32.5552) radius 0.5 projected
  circle A44 centre (-32.5552, 28.9631) radius 0.5 projected
  circle A45 centre (-30.7591, 30.7591) radius 0.5 projected
  circle A46 centre (-36.1473, 25.371) radius 0.5 projected
  circle A47 centre (-9, 23.5) radius 1.2 projected
  circle A48 centre (-9, -23.5) radius 1.2 projected
  circle A49 centre (9, -23.5) radius 1.2 projected
  circle A50 centre (9, 23.5) radius 1.2 projected
  line L0 (-15, 32) -> (-15, 45.7707) projected
  arc A51 (-15, 45.7707) -> (-46, 11) centre (-11, 11) ccw projected
  line L1 (-46, 11) -> (-46, -11) projected
  arc A52 (-46, -11) -> (-15, -45.7707) centre (-11, -11) ccw projected
  line L2 (-15, -45.7707) -> (-15, -32) projected
  line L3 (-15, -32) -> (15, -32) projected
  line L4 (15, -32) -> (15, -45.7707) projected
  arc A53 (15, -45.7707) -> (46, -11) centre (11, -11) ccw projected
  line L5 (46, -11) -> (46, 11) projected
  arc A54 (46, 11) -> (15, 45.7707) centre (11, 11) ccw projected
  line L6 (15, 45.7707) -> (15, 32) projected
  line L7 (15, 32) -> (-15, 32) projected
  line L8 (-48.5218, 0) -> (66.2136, 0) construction
  point P0 (0, 0)
  point P1 (43.5, -1.27)
  point P2 (43.5, 1.27)
  point P3 (43.5, 3.81)
  point P4 (43.5, -3.81)
  dimension "d93" = 2.5
  dimension "d94" = 2.54
  dimension "d95" = 1.27
  dimension "d96" = 2.54
  dimension "d97" = 2.54
hole "Otwór5" at (43.5, 2, 3.81) at (43.5, 2, -3.81) at (43.5, 2, -1.27) at (43.5, 2, 1.27) direction (0, -1, 0) diameter 1 end through all
sketch "Szkic8" plane through (0, 2, 0) normal (0, 1, 0) x (1, 0, 0)
  line L0 (27.0445, -22.5) -> (42.0445, -22.5) construction
  line L1 (42.0445, -22.5) -> (42.0445, 22.5) construction
  line L2 (42.0445, 22.5) -> (27.0445, 22.5) construction
  line L3 (27.0445, 22.5) -> (27.0445, -22.5) construction
  line L4 (27.0445, -22.5) -> (42.0445, 22.5) construction
  line L5 (42.0445, -22.5) -> (27.0445, 22.5) construction
  point P0 (0, 0)
  point P1 (34.5445, 0)
  point P2 (27.0445, -25.5)
  point P3 (29.5845, -25.5)
  point P4 (32.1245, -25.5)
  point P5 (34.6645, -25.5)
  dimension "d105" = 15
  dimension "d106" = 45
  dimension "d107" = 2.54
  dimension "d108" = 2.54
  dimension "d109" = 2.54
  dimension "d110" = 3
  dimension "d111" = 0
hole "Otwór6" at (34.6645, 2, 25.5) at (32.1245, 2, 25.5) at (29.5845, 2, 25.5) at (27.0445, 2, 25.5) direction (0, -1, 0) diameter 1 end through all
sketch "Szkic9" plane through (0, 2, 0) normal (0, 1, 0) x (1, 0, 0)
  circle A0 centre (29.5845, -25.5) radius 0.5 projected
  circle A1 centre (34.6645, -25.5) radius 0.5 projected
  circle A2 centre (32.1245, -25.5) radius 0.5 projected
  circle A3 centre (27.0445, -25.5) radius 0.5 projected
  circle A4 centre (43.5, 1.27) radius 0.5 projected
  circle A5 centre (43.5, -3.81) radius 0.5 projected
  circle A6 centre (43.5, 3.81) radius 0.5 projected
  circle A7 centre (43.5, -1.27) radius 0.5 projected
  circle A8 centre (23.25, -2.54) radius 0.5 projected
  circle A9 centre (23.25, 2.54) radius 0.5 projected
  circle A10 centre (23.25, 10.16) radius 0.5 projected
  circle A11 centre (23.25, -10.16) radius 0.5 projected
  circle A12 centre (10.55, 0) radius 0.5 projected
  circle A13 centre (10.55, 5.08) radius 0.5 projected
  circle A14 centre (10.55, -5.08) radius 0.5 projected
  circle A15 centre (10.55, -2.54) radius 0.5 projected
  circle A16 centre (10.55, 2.54) radius 0.5 projected
  circle A17 centre (23.25, -7.62) radius 0.5 projected
  circle A18 centre (23.25, 7.62) radius 0.5 projected
  circle A19 centre (23.25, 0) radius 0.5 projected
  circle A20 centre (23.25, 5.08) radius 0.5 projected
  circle A21 centre (23.25, -5.08) radius 0.5 projected
  circle A22 centre (-3, 7) radius 0.5 projected
  circle A23 centre (1, 7) radius 0.5 projected
  circle A24 centre (5, 7) radius 0.5 projected
  circle A25 centre (3, -7) radius 0.5 projected
  circle A26 centre (-5, -7) radius 0.5 projected
  circle A27 centre (-1, -7) radius 0.5 projected
  circle A28 centre (-3, -7) radius 0.5 projected
  circle A29 centre (1, -7) radius 0.5 projected
  circle A30 centre (5, -7) radius 0.5 projected
  circle A31 centre (3, 7) radius 0.5 projected
  circle A32 centre (-5, 7) radius 0.5 projected
  circle A33 centre (-1, 7) radius 0.5 projected
  circle A34 centre (-25.371, 36.1473) radius 0.5 projected
  circle A35 centre (-34.3512, 27.167) radius 0.5 projected
  circle A36 centre (-27.167, 34.3512) radius 0.5 projected
  circle A37 centre (-25.371, -36.1473) radius 0.5 projected
  circle A38 centre (-27.167, -34.3512) radius 0.5 projected
  circle A39 centre (-34.3512, -27.167) radius 0.5 projected
  circle A40 centre (-36.1473, -25.371) radius 0.5 projected
  circle A41 centre (-43.5, -7.62) radius 0.5 projected
  circle A42 centre (-43.5, 5.08) radius 0.5 projected
  circle A43 centre (-43.5, 2.54) radius 0.5 projected
  circle A44 centre (-43.5, 0) radius 0.5 projected
  circle A45 centre (-43.5, -2.54) radius 0.5 projected
  circle A46 centre (-43.5, -5.08) radius 0.5 projected
  circle A47 centre (-43.5, 7.62) radius 0.5 projected
  circle A48 centre (-30.7591, -30.7591) radius 0.5 projected
  circle A49 centre (-32.5552, -28.9631) radius 0.5 projected
  circle A50 centre (-28.9631, -32.5552) radius 0.5 projected
  circle A51 centre (-28.9631, 32.5552) radius 0.5 projected
  circle A52 centre (-32.5552, 28.9631) radius 0.5 projected
  circle A53 centre (-30.7591, 30.7591) radius 0.5 projected
  circle A54 centre (-36.1473, 25.371) radius 0.5 projected
  circle A55 centre (-9, 23.5) radius 1.2 projected
  circle A56 centre (-9, -23.5) radius 1.2 projected
  circle A57 centre (9, -23.5) radius 1.2 projected
  circle A58 centre (9, 23.5) radius 1.2 projected
  line L0 (-15, 32) -> (-15, 45.7707) projected
  arc A59 (-15, 45.7707) -> (-46, 11) centre (-11, 11) ccw projected
  line L1 (-46, 11) -> (-46, -11) projected
  arc A60 (-46, -11) -> (-15, -45.7707) centre (-11, -11) ccw projected
  line L2 (-15, -45.7707) -> (-15, -32) projected
  line L3 (-15, -32) -> (15, -32) projected
  line L4 (15, -32) -> (15, -45.7707) projected
  arc A61 (15, -45.7707) -> (46, -11) centre (11, -11) ccw projected
  line L5 (46, -11) -> (46, 11) projected
  arc A62 (46, 11) -> (15, 45.7707) centre (11, 11) ccw projected
  line L6 (15, 45.7707) -> (15, 32) projected
  line L7 (15, 32) -> (-15, 32) projected
  circle A63 centre (-9, 23.5) radius 4.25 projected
  circle A64 centre (9, 23.5) radius 4.25 projected
  line L8 (7.5, 18.75) -> (7.5, 32) projected
  line L9 (-7.5, 32) -> (-7.5, 18.75) projected
  line L10 (6, 18.75) -> (-6, 18.75) projected
  line L11 (-6, 18.75) -> (-6, 10.25) projected
  line L12 (-6, 10.25) -> (6, 10.25) projected
  line L13 (6, 10.25) -> (6, 18.75) projected
  circle A65 centre (-9, -23.5) radius 4.25 projected
  circle A66 centre (9, -23.5) radius 4.25 projected
  line L14 (7.5, -18.75) -> (7.5, -32) projected
  line L15 (-7.5, -32) -> (-7.5, -18.75) projected
  line L16 (-6, -18.75) -> (-6, -10.25) projected
  line L17 (-7.5, -18.75) -> (7.5, -18.75) projected
  line L18 (6, -10.25) -> (6, -18.75) projected
  line L19 (-6, -10.25) -> (6, -10.25) projected
  line L20 (0.5, 5.25) -> (0.5, 10.25) projected
  line L21 (-0.5, 10.25) -> (-0.5, 5.25) projected
  line L22 (-0.5, 5.25) -> (0.5, 5.25) projected
  line L23 (-0.5, -5.25) -> (0.5, -5.25) projected
  line L24 (-0.5, -10.25) -> (-0.5, -5.25) projected
  line L25 (0.5, -5.25) -> (0.5, -10.25) projected
  line L26 (27.0445, 22.5) -> (27.0445, -22.5) construction
  line L27 (42.0445, 22.5) -> (27.0445, 22.5) construction
  line L28 (42.0445, -22.5) -> (42.0445, 22.5) construction
  line L29 (27.0445, -22.5) -> (42.0445, -22.5) construction
  point P0 (0, 0)
sketch "Szkic10" plane through (0, 2, 0) normal (0, 1, 0) x (1, 0, 0)
  circle A0 centre (29.5845, -25.5) radius 0.5 projected
  circle A1 centre (34.6645, -25.5) radius 0.5 projected
  circle A2 centre (32.1245, -25.5) radius 0.5 projected
  circle A3 centre (27.0445, -25.5) radius 0.5 projected
  circle A4 centre (43.5, 1.27) radius 0.5 projected
  circle A5 centre (43.5, -3.81) radius 0.5 projected
  circle A6 centre (43.5, 3.81) radius 0.5 projected
  circle A7 centre (43.5, -1.27) radius 0.5 projected
  circle A8 centre (23.25, -2.54) radius 0.5 projected
  circle A9 centre (23.25, 2.54) radius 0.5 projected
  circle A10 centre (23.25, 10.16) radius 0.5 projected
  circle A11 centre (23.25, -10.16) radius 0.5 projected
  circle A12 centre (10.55, 0) radius 0.5 projected
  circle A13 centre (10.55, 5.08) radius 0.5 projected
  circle A14 centre (10.55, -5.08) radius 0.5 projected
  circle A15 centre (10.55, -2.54) radius 0.5 projected
  circle A16 centre (10.55, 2.54) radius 0.5 projected
  circle A17 centre (23.25, -7.62) radius 0.5 projected
  circle A18 centre (23.25, 7.62) radius 0.5 projected
  circle A19 centre (23.25, 0) radius 0.5 projected
  circle A20 centre (23.25, 5.08) radius 0.5 projected
  circle A21 centre (23.25, -5.08) radius 0.5 projected
  circle A22 centre (-3, 7) radius 0.5 projected
  circle A23 centre (1, 7) radius 0.5 projected
  circle A24 centre (5, 7) radius 0.5 projected
  circle A25 centre (3, -7) radius 0.5 projected
  circle A26 centre (-5, -7) radius 0.5 projected
  circle A27 centre (-1, -7) radius 0.5 projected
  circle A28 centre (-3, -7) radius 0.5 projected
  circle A29 centre (1, -7) radius 0.5 projected
  circle A30 centre (5, -7) radius 0.5 projected
  circle A31 centre (3, 7) radius 0.5 projected
  circle A32 centre (-5, 7) radius 0.5 projected
  circle A33 centre (-1, 7) radius 0.5 projected
  circle A34 centre (-25.371, 36.1473) radius 0.5 projected
  circle A35 centre (-34.3512, 27.167) radius 0.5 projected
  circle A36 centre (-27.167, 34.3512) radius 0.5 projected
  circle A37 centre (-25.371, -36.1473) radius 0.5 projected
  circle A38 centre (-27.167, -34.3512) radius 0.5 projected
  circle A39 centre (-34.3512, -27.167) radius 0.5 projected
  circle A40 centre (-36.1473, -25.371) radius 0.5 projected
  circle A41 centre (-43.5, -7.62) radius 0.5 projected
  circle A42 centre (-43.5, 5.08) radius 0.5 projected
  circle A43 centre (-43.5, 2.54) radius 0.5 projected
  circle A44 centre (-43.5, 0) radius 0.5 projected
  circle A45 centre (-43.5, -2.54) radius 0.5 projected
  circle A46 centre (-43.5, -5.08) radius 0.5 projected
  circle A47 centre (-43.5, 7.62) radius 0.5 projected
  circle A48 centre (-30.7591, -30.7591) radius 0.5 projected
  circle A49 centre (-32.5552, -28.9631) radius 0.5 projected
  circle A50 centre (-28.9631, -32.5552) radius 0.5 projected
  circle A51 centre (-28.9631, 32.5552) radius 0.5 projected
  circle A52 centre (-32.5552, 28.9631) radius 0.5 projected
  circle A53 centre (-30.7591, 30.7591) radius 0.5 projected
  circle A54 centre (-36.1473, 25.371) radius 0.5 projected
  circle A55 centre (-9, 23.5) radius 1.2 projected
  circle A56 centre (-9, -23.5) radius 1.2 projected
  circle A57 centre (9, -23.5) radius 1.2 projected
  circle A58 centre (9, 23.5) radius 1.2 projected
  line L0 (-15, 32) -> (-15, 45.7707) projected
  arc A59 (-15, 45.7707) -> (-46, 11) centre (-11, 11) ccw projected
  line L1 (-46, 11) -> (-46, -11) projected
  arc A60 (-46, -11) -> (-15, -45.7707) centre (-11, -11) ccw projected
  line L2 (-15, -45.7707) -> (-15, -32) projected
  line L3 (-15, -32) -> (15, -32) projected
  line L4 (15, -32) -> (15, -45.7707) projected
  arc A61 (15, -45.7707) -> (46, -11) centre (11, -11) ccw projected
  line L5 (46, -11) -> (46, 11) projected
  arc A62 (46, 11) -> (15, 45.7707) centre (11, 11) ccw projected
  line L6 (15, 45.7707) -> (15, 32) projected
  line L7 (15, 32) -> (-15, 32) projected
  point P0 (0, 0)
sketch "Szkic11" plane through (0, 2, 0) normal (0, 1, 0) x (1, 0, 0)
  arc A0 (-15, 45.7707) -> (-46, 11) centre (-11, 11) ccw projected
  line L0 (-46, 11) -> (-46, -11) projected
  arc A1 (-46, -11) -> (-15, -45.7707) centre (-11, -11) ccw projected
  line L1 (-15, -45.7707) -> (-15, -32) projected
  line L2 (-15, -32) -> (15, -32) projected
  line L3 (15, -32) -> (15, -45.7707) projected
  arc A2 (15, -45.7707) -> (46, -11) centre (11, -11) ccw projected
  arc A3 (46, 11) -> (15, 45.7707) centre (11, 11) ccw projected
  line L4 (15, 45.7707) -> (15, 32) projected
  line L5 (-15, 32) -> (-15, 45.7707) projected
  line L6 (15, 32) -> (-15, 32) projected
  line L7 (46, -11) -> (46, 11) projected
  circle A4 centre (9, -23.5) radius 1.2 projected
  circle A5 centre (-9, -23.5) radius 1.2 projected
  circle A6 centre (-9, 23.5) radius 1.2 projected
  circle A7 centre (9, 23.5) radius 1.2 projected
  circle A8 centre (5, 7) radius 0.5 projected
  circle A9 centre (3, 7) radius 0.5 projected
  circle A10 centre (1, 7) radius 0.5 projected
  circle A11 centre (-1, 7) radius 0.5 projected
  circle A12 centre (-3, 7) radius 0.5 projected
  circle A13 centre (-5, 7) radius 0.5 projected
  circle A14 centre (-5, -7) radius 0.5 projected
  circle A15 centre (-3, -7) radius 0.5 projected
  circle A16 centre (-1, -7) radius 0.5 projected
  circle A17 centre (1, -7) radius 0.5 projected
  circle A18 centre (3, -7) radius 0.5 projected
  circle A19 centre (5, -7) radius 0.5 projected
  point P0 (0, 0)
equation "\"d0\" = d1"
equation "\"d7\" = d9"
equation "\"d23\" = d22"
equation "\"d24\" = d22"
equation "\"d25\" = d22"
equation "\"d26\" = d22"
equation "\"d27\" = d22"
equation "\"d40\" = 0.333333 * d39"
equation "\"d41\" = d40"
equation "\"d42\" = d40"
equation "\"d43\" = d41"
equation "\"d54\" = d53"
equation "\"d55\" = d54"
equation "\"d56\" = d53"
equation "\"d57\" = d56"
equation "\"d58\" = 0.5 * d54"
equation "\"d71\" = d70"
equation "\"d73\" = d72"
equation "\"d74\" = d72"
equation "\"d75\" = d74"
equation "\"d77\" = d76"
equation "\"d78\" = d76"
equation "\"d79\" = d78"
equation "\"d80\" = d81"
equation "\"d82\" = d77"
equation "\"d83\" = d84"
equation "\"d85\" = d79"
equation "\"d95\" = 0.5 * d94"
equation "\"d96\" = d94"
equation "\"d97\" = d94"
equation "\"d108\" = d107"
equation "\"d109\" = d108"
equation "\"d81\" = 2.54"
equation "\"d84\" = 2.54"
properties part number "board_base"
